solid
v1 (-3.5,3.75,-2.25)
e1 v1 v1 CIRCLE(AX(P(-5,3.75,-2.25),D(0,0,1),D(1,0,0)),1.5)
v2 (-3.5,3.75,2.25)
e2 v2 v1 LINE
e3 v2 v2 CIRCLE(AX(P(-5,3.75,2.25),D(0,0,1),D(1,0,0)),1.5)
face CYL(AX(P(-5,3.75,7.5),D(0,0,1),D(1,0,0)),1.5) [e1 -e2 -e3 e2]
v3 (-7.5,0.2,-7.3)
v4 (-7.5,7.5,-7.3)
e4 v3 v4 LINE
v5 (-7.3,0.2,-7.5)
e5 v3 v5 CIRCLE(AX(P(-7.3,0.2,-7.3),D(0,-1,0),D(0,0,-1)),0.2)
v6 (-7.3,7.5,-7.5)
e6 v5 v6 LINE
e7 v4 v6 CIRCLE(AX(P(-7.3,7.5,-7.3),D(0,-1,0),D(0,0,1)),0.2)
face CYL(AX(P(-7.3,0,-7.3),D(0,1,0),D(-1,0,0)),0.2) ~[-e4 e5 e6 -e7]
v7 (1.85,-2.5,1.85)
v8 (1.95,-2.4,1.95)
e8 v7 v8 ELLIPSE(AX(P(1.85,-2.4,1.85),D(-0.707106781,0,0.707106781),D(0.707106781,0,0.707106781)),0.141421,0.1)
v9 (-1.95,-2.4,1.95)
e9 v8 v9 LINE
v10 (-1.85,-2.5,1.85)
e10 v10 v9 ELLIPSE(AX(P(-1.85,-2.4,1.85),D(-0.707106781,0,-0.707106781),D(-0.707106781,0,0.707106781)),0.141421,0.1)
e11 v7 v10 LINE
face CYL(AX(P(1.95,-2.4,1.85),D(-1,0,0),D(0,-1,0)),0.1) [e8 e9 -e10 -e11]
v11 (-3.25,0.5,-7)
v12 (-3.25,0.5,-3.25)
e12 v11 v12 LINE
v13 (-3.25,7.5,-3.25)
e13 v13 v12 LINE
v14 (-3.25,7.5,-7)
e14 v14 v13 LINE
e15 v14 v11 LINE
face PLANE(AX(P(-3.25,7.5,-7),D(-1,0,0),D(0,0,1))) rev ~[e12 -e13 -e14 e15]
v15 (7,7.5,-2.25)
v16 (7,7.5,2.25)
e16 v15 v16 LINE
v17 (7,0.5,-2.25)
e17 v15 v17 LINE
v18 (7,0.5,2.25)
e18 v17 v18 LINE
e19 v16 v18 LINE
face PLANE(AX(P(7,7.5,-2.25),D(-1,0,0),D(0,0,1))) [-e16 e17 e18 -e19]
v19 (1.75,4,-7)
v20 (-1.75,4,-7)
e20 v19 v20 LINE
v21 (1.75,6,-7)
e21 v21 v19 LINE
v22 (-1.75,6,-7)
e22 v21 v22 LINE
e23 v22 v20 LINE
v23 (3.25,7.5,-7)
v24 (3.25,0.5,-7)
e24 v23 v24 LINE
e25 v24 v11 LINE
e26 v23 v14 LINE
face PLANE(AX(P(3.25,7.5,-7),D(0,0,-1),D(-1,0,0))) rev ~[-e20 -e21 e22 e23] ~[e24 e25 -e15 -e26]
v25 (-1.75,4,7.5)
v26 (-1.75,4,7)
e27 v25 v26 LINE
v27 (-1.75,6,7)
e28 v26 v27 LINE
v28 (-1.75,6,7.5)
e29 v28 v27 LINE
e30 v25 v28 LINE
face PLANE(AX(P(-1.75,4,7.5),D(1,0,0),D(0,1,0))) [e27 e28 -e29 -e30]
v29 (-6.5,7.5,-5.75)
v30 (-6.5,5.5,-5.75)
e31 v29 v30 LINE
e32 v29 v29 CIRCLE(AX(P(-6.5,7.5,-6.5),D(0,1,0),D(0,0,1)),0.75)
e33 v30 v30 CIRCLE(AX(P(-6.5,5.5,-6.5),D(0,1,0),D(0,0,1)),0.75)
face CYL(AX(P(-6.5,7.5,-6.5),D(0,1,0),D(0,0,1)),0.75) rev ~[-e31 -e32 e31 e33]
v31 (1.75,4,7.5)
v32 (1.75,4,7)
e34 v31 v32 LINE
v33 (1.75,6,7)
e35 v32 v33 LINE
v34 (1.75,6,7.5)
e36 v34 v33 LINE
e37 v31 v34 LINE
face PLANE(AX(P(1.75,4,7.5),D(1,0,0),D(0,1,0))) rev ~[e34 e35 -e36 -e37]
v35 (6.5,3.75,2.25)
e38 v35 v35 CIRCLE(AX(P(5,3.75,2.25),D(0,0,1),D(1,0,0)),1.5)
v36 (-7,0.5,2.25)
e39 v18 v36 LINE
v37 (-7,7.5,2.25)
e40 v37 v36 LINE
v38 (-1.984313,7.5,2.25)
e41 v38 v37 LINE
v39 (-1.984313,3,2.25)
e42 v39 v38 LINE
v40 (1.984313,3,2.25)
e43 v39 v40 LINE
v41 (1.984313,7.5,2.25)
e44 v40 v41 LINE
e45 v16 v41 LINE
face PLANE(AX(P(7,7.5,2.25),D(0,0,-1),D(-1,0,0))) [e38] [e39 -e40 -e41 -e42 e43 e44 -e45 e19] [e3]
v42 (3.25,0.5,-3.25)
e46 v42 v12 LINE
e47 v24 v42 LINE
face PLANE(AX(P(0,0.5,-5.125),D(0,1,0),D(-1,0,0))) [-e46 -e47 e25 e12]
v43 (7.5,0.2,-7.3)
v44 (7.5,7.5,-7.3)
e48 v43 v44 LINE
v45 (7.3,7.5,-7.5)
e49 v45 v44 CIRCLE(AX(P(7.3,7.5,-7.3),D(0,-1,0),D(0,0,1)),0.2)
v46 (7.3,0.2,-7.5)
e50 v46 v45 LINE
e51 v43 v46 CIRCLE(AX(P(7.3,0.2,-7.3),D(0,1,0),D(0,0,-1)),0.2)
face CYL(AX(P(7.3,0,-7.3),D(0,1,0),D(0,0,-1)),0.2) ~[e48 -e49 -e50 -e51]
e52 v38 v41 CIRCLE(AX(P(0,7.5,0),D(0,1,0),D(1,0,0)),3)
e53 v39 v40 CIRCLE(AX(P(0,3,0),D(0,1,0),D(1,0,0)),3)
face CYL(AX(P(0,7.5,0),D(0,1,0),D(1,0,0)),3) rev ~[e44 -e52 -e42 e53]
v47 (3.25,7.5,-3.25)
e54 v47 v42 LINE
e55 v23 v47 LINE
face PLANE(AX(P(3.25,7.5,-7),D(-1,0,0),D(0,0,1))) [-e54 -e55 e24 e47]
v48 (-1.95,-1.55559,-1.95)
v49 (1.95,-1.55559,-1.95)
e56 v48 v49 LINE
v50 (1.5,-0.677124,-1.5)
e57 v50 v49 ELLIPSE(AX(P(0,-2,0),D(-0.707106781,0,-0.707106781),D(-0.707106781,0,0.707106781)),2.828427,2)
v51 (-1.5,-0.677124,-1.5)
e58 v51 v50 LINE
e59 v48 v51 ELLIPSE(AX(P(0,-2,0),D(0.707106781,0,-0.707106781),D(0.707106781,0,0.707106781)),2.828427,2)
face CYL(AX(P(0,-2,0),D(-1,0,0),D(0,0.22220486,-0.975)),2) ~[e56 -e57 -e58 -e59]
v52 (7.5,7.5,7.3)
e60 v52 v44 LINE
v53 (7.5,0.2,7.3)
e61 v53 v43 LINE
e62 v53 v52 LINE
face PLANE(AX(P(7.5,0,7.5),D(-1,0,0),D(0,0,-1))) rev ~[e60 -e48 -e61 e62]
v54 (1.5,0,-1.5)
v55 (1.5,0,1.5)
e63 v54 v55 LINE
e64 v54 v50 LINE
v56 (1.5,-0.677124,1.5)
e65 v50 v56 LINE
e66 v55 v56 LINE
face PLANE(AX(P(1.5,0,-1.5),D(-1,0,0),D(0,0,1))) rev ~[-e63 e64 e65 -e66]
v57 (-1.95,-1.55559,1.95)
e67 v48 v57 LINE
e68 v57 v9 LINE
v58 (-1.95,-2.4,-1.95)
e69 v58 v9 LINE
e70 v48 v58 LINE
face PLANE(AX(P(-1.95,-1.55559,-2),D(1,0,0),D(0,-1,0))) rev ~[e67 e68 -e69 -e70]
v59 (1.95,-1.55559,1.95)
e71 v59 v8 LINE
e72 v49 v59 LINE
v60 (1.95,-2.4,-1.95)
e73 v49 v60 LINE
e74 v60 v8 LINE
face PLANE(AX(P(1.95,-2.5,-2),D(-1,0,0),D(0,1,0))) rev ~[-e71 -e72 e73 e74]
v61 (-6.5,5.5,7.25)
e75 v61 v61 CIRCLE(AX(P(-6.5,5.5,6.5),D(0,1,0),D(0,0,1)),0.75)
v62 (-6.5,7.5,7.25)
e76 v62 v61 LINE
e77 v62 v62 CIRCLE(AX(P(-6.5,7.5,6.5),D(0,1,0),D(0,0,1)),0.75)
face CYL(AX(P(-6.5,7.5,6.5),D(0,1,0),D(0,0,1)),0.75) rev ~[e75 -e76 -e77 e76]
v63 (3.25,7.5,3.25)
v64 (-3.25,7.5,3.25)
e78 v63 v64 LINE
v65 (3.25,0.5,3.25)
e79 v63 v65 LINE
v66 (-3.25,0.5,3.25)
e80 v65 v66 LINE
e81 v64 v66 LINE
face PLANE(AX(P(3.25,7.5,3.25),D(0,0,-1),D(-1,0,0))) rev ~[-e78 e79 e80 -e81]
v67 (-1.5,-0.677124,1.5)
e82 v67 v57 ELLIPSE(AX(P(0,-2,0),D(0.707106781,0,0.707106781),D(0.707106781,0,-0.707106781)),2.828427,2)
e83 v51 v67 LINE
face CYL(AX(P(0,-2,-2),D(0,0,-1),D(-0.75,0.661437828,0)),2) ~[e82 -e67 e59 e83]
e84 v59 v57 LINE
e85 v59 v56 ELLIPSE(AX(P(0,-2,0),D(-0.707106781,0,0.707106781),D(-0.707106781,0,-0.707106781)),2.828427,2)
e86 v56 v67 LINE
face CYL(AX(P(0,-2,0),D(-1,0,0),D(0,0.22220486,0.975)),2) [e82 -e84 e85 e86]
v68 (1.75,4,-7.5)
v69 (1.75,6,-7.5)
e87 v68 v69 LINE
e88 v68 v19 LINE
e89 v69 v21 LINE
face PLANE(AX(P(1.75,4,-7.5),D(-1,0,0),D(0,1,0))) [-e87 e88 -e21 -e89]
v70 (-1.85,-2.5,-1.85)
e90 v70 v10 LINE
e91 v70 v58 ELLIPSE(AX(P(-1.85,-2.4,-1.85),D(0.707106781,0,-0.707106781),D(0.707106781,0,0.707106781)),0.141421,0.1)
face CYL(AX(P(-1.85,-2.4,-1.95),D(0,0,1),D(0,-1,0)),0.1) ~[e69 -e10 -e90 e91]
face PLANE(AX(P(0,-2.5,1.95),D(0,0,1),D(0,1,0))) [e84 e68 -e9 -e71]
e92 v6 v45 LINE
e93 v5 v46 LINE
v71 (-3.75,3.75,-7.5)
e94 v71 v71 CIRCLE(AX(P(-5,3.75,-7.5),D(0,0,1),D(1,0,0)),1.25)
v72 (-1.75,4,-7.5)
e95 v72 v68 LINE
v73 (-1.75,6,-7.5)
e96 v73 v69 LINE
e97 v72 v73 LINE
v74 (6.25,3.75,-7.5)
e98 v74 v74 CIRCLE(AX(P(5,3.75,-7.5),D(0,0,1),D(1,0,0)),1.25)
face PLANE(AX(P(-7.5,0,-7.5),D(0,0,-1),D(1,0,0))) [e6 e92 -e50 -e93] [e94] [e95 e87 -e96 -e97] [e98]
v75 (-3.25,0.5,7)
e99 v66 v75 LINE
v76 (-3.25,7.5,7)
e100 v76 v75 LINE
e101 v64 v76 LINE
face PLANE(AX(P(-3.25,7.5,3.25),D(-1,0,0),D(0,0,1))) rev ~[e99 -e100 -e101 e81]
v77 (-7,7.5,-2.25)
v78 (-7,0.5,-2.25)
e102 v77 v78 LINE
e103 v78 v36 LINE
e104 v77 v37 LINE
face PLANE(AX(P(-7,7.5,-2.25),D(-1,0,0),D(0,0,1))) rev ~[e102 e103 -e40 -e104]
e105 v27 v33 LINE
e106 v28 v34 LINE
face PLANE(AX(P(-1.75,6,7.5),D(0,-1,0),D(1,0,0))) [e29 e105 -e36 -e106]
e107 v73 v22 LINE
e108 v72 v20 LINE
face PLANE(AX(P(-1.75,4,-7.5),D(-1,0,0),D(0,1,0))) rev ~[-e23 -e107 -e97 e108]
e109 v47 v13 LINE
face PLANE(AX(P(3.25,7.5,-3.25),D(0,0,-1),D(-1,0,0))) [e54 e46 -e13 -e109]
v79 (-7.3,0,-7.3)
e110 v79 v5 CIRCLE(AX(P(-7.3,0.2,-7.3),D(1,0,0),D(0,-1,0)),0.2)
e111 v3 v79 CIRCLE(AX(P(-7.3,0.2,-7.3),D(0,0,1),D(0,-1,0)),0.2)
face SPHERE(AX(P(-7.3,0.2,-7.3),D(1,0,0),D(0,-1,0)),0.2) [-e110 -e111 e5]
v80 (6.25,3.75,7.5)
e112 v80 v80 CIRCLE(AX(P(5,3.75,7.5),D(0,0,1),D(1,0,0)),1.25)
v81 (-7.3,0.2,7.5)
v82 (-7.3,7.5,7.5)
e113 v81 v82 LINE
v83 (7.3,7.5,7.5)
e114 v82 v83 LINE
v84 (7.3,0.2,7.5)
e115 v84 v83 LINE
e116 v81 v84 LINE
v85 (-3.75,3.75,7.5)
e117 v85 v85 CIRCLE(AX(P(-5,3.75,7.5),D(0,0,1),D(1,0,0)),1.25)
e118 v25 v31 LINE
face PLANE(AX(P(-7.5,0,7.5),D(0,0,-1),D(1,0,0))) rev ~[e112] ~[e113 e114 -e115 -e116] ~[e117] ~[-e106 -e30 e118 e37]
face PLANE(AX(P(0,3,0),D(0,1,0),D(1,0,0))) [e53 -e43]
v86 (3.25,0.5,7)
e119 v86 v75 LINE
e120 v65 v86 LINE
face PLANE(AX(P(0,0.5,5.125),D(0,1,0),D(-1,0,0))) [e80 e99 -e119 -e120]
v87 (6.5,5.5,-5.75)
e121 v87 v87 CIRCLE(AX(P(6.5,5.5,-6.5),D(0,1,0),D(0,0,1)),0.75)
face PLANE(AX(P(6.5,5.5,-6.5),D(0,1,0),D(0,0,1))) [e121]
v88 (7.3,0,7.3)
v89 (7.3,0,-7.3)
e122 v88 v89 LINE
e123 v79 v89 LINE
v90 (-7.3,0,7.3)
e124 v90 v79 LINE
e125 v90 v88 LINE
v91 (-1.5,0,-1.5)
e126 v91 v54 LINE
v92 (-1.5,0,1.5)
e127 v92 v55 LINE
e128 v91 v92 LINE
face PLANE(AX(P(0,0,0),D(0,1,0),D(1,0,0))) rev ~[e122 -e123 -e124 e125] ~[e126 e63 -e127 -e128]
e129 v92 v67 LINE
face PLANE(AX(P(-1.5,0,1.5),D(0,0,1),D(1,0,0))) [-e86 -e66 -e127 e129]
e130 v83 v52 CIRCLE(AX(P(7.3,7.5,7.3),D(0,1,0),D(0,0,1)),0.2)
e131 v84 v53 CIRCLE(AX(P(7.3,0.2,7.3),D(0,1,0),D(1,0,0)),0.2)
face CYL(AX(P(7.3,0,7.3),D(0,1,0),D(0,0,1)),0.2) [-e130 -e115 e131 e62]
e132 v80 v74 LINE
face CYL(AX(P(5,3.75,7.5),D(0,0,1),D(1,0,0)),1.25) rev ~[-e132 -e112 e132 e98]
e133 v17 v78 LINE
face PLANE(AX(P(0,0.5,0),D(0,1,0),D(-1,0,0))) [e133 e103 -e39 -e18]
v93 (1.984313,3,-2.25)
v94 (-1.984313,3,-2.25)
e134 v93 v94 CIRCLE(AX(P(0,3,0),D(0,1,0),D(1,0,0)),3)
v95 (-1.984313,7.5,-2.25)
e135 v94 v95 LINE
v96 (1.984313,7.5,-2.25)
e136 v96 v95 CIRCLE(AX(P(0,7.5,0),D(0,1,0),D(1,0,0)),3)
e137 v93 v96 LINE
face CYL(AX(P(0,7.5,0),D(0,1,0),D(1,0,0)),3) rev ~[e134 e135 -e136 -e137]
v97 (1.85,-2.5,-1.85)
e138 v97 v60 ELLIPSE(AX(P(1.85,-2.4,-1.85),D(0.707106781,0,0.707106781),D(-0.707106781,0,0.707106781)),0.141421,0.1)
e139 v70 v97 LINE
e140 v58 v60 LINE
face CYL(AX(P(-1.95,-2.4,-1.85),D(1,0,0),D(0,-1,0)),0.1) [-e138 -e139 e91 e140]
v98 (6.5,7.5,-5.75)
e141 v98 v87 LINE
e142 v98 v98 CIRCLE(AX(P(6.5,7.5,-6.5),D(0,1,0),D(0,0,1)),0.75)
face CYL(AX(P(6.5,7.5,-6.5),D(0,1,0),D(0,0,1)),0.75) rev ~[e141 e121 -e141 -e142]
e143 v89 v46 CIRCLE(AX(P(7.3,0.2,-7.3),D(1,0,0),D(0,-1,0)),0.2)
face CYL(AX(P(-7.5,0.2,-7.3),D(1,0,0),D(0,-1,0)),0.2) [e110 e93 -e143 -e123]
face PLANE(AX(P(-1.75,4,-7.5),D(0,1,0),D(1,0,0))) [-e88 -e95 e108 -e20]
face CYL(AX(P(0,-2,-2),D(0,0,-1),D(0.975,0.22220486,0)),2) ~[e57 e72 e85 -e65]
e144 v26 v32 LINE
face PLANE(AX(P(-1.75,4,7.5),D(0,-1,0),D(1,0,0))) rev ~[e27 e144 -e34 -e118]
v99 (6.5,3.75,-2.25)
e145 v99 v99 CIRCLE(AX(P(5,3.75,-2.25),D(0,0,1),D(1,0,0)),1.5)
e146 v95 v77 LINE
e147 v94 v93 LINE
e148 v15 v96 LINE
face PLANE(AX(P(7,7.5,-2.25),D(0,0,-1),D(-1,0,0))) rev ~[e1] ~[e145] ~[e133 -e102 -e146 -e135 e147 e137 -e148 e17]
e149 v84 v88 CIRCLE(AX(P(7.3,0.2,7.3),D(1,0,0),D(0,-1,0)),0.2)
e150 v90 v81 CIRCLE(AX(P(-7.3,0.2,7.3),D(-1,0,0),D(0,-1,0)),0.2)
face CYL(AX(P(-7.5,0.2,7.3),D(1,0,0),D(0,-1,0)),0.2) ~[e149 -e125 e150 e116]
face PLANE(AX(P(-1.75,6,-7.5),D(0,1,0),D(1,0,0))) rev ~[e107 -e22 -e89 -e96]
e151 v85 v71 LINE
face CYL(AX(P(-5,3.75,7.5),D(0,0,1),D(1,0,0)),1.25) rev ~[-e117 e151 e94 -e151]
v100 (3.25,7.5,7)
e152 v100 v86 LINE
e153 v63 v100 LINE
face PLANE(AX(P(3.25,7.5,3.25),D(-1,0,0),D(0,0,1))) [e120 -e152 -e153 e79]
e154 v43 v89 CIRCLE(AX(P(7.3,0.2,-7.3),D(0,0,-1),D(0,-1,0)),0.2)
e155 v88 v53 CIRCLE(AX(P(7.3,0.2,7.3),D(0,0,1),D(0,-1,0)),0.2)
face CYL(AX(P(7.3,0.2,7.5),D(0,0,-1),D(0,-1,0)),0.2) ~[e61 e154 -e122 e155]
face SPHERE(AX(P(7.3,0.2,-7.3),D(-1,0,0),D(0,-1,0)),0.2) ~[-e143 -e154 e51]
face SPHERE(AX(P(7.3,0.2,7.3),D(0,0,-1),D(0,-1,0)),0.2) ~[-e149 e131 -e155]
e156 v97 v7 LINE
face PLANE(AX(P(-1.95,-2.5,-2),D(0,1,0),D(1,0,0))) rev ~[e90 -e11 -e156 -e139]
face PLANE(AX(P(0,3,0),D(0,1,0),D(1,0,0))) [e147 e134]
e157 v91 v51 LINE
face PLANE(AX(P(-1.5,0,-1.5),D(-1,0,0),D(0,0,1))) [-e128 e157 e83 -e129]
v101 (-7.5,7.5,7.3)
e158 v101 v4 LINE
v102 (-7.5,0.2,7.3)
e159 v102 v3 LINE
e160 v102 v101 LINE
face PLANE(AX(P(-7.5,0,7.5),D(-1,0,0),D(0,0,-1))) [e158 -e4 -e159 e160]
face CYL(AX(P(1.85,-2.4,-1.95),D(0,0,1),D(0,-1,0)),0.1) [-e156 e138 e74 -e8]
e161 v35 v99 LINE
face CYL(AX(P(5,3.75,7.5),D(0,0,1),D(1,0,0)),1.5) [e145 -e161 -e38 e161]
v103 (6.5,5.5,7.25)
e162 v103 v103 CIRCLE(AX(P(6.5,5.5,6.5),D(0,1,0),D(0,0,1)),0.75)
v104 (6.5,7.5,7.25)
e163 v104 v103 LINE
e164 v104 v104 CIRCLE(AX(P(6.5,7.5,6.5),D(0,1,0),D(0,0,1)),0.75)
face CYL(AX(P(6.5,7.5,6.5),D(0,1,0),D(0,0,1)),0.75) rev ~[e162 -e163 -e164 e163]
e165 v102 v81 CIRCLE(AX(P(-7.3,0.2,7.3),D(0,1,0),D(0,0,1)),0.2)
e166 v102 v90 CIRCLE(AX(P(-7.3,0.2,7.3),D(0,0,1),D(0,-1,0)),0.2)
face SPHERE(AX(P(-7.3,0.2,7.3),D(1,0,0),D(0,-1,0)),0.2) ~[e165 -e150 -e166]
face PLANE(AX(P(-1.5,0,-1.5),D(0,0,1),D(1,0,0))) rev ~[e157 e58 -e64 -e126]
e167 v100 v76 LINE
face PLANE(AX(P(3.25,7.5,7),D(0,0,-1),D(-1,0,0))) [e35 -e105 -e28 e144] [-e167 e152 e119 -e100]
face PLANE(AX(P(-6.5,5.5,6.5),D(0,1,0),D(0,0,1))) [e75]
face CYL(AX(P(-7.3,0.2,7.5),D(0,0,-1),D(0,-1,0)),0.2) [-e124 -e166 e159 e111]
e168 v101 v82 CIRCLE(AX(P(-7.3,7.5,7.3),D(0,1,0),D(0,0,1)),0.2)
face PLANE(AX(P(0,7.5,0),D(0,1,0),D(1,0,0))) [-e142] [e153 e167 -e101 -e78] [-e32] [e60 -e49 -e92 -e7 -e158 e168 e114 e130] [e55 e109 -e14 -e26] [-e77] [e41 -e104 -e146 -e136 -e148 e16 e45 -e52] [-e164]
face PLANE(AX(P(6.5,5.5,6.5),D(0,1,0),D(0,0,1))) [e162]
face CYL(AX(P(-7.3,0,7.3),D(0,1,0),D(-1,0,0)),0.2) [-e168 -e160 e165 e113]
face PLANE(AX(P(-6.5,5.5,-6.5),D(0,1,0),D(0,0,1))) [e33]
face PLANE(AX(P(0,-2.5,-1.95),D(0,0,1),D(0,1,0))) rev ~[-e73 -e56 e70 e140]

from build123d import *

# Parameters (mm, degrees)
SKETCH_2_W                      = 15
SKETCH_2_H                      = 15
EXTRUDE_1_DEPTH                 = 7.5
SKETCH_3_W                      = 14
SKETCH_3_H                      = 4.5
CUT_EXTRUDE_1_DEPTH             = 7
SKETCH_4_R                      = 3
CUT_EXTRUDE_2_DEPTH             = 4.5
SKETCH_5_W                      = 6.5
SKETCH_5_H                      = 3.75
CUT_EXTRUDE_3_DEPTH             = 7
EXTRUDE_2_REACH                 = 20.371
SKETCH_6_R                      = 1.5
SKETCH_7_R                      = 1.25
CUT_EXTRUDE_4_DEPTH             = 19.371173071
SKETCH_8_W                      = 3
SKETCH_8_H                      = 3
EXTRUDE_3_DEPTH                 = 1
CUT_EXTRUDE_5_REACH             = 20.371
SKETCH_9_W                      = 3.5
SKETCH_9_H                      = 2
CUT_EXTRUDE_6_REACH             = 35.371
CUT_EXTRUDE_START               = -15
SKETCH_9_2_W                    = 3.5
SKETCH_9_2_H                    = 2
EXTRUDE_4_DEPTH                 = 2
EXTRUDE_4_DEPTH_BACK            = 2
CUT_EXTRUDE_7_REACH             = 14.99
CUT_EXTRUDE_7_DIRECTION_2_REACH = 14.99
FILLET_1_R                      = 0.1
FILLET_2_R                      = 0.2
SKETCH_12_R                     = 0.75
CUT_EXTRUDE_8_DEPTH             = 2


with BuildPart() as part:
    # 草图2 → 凸台-拉伸1 (new body)
    with BuildSketch(Plane(origin=(0, 0, 0), x_dir=(1, 0, 0), z_dir=(0, 1, 0))):
        Rectangle(SKETCH_2_W, SKETCH_2_H)
    extrude(amount=EXTRUDE_1_DEPTH)

    # 草图3 → 切除-拉伸1 (cut)
    with BuildSketch(Plane(origin=(0, 7.5, 0), x_dir=(-1, 0, 0), z_dir=(0, 1, 0))):
        Rectangle(SKETCH_3_W, SKETCH_3_H)
    extrude(amount=-CUT_EXTRUDE_1_DEPTH, mode=Mode.SUBTRACT)

    # 草图4 → 切除-拉伸2 (cut)
    with BuildSketch(Plane(origin=(0, 7.5, 0), x_dir=(1, 0, 0), z_dir=(0, 1, 0))):
        Circle(SKETCH_4_R)
    extrude(amount=-CUT_EXTRUDE_2_DEPTH, mode=Mode.SUBTRACT)

    # 草图5 → 切除-拉伸3 (cut)
    with BuildSketch(Plane(origin=(0, 7.5, 0), x_dir=(-1, 0, 0), z_dir=(0, 1, 0))):
        with Locations((0, -5.125)):
            Rectangle(SKETCH_5_W, SKETCH_5_H)
        with Locations((0, 5.125)):
            Rectangle(SKETCH_5_W, SKETCH_5_H)
    extrude(amount=-CUT_EXTRUDE_3_DEPTH, mode=Mode.SUBTRACT)

    # 草图6 → 凸台-拉伸2 (add, up to next)
    with BuildSketch(Plane.XY.offset(7.5), mode=Mode.PRIVATE) as extrude_2_sk1:
        with Locations((-5, 3.75)):
            Circle(SKETCH_6_R)
    extrude_2_tool1 = extrude(extrude_2_sk1.sketch, amount=-EXTRUDE_2_REACH, mode=Mode.PRIVATE) - part.part
    # 草图6 → 凸台-拉伸2 (add, up to next)
    with BuildSketch(Plane.XY.offset(7.5), mode=Mode.PRIVATE) as extrude_2_sk2:
        with Locations((5, 3.75)):
            Circle(SKETCH_6_R)
    extrude_2_tool2 = extrude(extrude_2_sk2.sketch, amount=-EXTRUDE_2_REACH, mode=Mode.PRIVATE) - part.part
    add(extrude_2_tool1.solids().sort_by_distance((-5, 3.75, 7.5))[0])
    add(extrude_2_tool2.solids().sort_by_distance((5, 3.75, 7.5))[0])

    # 草图7 → 切除-拉伸4 (cut, through all)
    with BuildSketch(Plane.XY.offset(7.5)):
        with Locations((-5, 3.75)):
            Circle(SKETCH_7_R)
        with Locations((5, 3.75)):
            Circle(SKETCH_7_R)
    extrude(amount=-CUT_EXTRUDE_4_DEPTH, mode=Mode.SUBTRACT)

    # 草图8 → 凸台-拉伸3 (add)
    with BuildSketch(Plane.XZ):
        Rectangle(SKETCH_8_W, SKETCH_8_H)
    extrude(amount=EXTRUDE_3_DEPTH)

    # 草图9 → 切除-拉伸5 (cut, up to next)
    with BuildSketch(Plane.XY.offset(7.5), mode=Mode.PRIVATE) as cut_extrude_5_sk1:
        with Locations((0, 5)):
            Rectangle(SKETCH_9_W, SKETCH_9_H)
    cut_extrude_5_tool1 = extrude(cut_extrude_5_sk1.sketch, amount=-CUT_EXTRUDE_5_REACH, mode=Mode.PRIVATE) & part.part
    add(cut_extrude_5_tool1.solids().sort_by_distance((0, 5, 7.5))[0], mode=Mode.SUBTRACT)

    # 草图9<2> → 切除-拉伸6 (cut, up to next)
    with BuildSketch(Plane.XY.offset(7.5).offset(CUT_EXTRUDE_START), mode=Mode.PRIVATE) as cut_extrude_6_sk1:
        with Locations((0, 5)):
            Rectangle(SKETCH_9_2_W, SKETCH_9_2_H)
    cut_extrude_6_tool1 = extrude(cut_extrude_6_sk1.sketch, amount=CUT_EXTRUDE_6_REACH, mode=Mode.PRIVATE) & part.part
    add(cut_extrude_6_tool1.solids().sort_by_distance((0, 5, -7.5))[0], mode=Mode.SUBTRACT)

    # 草图10 → 凸台-拉伸4 (add, two sides: drawn at the far end of the back side and taken through both)
    with BuildSketch(Plane.XY.offset(-EXTRUDE_4_DEPTH_BACK)):
        with BuildLine():
            Line((-1.95, -2.5), (1.95, -2.5))
            Line((1.95, -2.5), (1.95, -1.555590279))
            ThreePointArc((1.95, -1.555590279), (1.780042303, -1.088161527), (1.5, -0.677124344))
            Line((1.5, -0.677124344), (-1.5, -0.677124344))
            ThreePointArc((-1.5, -0.677124344), (-1.780042303, -1.088161527), (-1.95, -1.555590279))
            Line((-1.95, -1.555590279), (-1.95, -2.5))
        make_face()
    extrude(amount=EXTRUDE_4_DEPTH + EXTRUDE_4_DEPTH_BACK)

    # 草图11 → 切除-拉伸7 (cut, up to next)
    with BuildSketch(Plane(origin=(0, 0, 0), x_dir=(0, 0, -1), z_dir=(1, 0, 0)), mode=Mode.PRIVATE) as cut_extrude_7_sk1:
        with BuildLine():
            Line((1.95, -2.5), (1.95, -1.555590279))
            ThreePointArc((1.95, -1.555590279), (1.780042303, -1.088161527), (1.5, -0.677124344))
            Line((1.5, -0.677124344), (2, -0.677124344))
            Line((2, -0.677124344), (2, -2.5))
            Line((2, -2.5), (1.95, -2.5))
        make_face()
    cut_extrude_7_tool1 = extrude(cut_extrude_7_sk1.sketch, amount=-CUT_EXTRUDE_7_REACH, mode=Mode.PRIVATE) & part.part
    # 草图11 → 切除-拉伸7 (cut, up to next)
    with BuildSketch(Plane(origin=(0, 0, 0), x_dir=(0, 0, -1), z_dir=(1, 0, 0)), mode=Mode.PRIVATE) as cut_extrude_7_sk2:
        with BuildLine():
            Line((-1.95, -2.5), (-1.95, -1.555590279))
            ThreePointArc((-1.95, -1.555590279), (-1.780042303, -1.088161527), (-1.5, -0.677124344))
            Line((-1.5, -0.677124344), (-2, -0.677124344))
            Line((-2, -0.677124344), (-2, -2.5))
            Line((-2, -2.5), (-1.95, -2.5))
        make_face()
    cut_extrude_7_tool2 = extrude(cut_extrude_7_sk2.sketch, amount=-CUT_EXTRUDE_7_REACH, mode=Mode.PRIVATE) & part.part
    add(cut_extrude_7_tool1.solids().sort_by_distance((0, -1.175075, -1.873038))[0], mode=Mode.SUBTRACT)
    add(cut_extrude_7_tool2.solids().sort_by_distance((0, -1.175075, 1.873038))[0], mode=Mode.SUBTRACT)

    # 草图11 → 切除-拉伸7 direction 2 (cut, up to next)
    with BuildSketch(Plane(origin=(0, 0, 0), x_dir=(0, 0, -1), z_dir=(1, 0, 0)), mode=Mode.PRIVATE) as cut_extrude_7_direction_2_sk1:
        with BuildLine():
            Line((1.95, -2.5), (1.95, -1.555590279))
            ThreePointArc((1.95, -1.555590279), (1.780042303, -1.088161527), (1.5, -0.677124344))
            Line((1.5, -0.677124344), (2, -0.677124344))
            Line((2, -0.677124344), (2, -2.5))
            Line((2, -2.5), (1.95, -2.5))
        make_face()
    cut_extrude_7_direction_2_tool1 = extrude(cut_extrude_7_direction_2_sk1.sketch, amount=CUT_EXTRUDE_7_DIRECTION_2_REACH, mode=Mode.PRIVATE) & part.part
    # 草图11 → 切除-拉伸7 direction 2 (cut, up to next)
    with BuildSketch(Plane(origin=(0, 0, 0), x_dir=(0, 0, -1), z_dir=(1, 0, 0)), mode=Mode.PRIVATE) as cut_extrude_7_direction_2_sk2:
        with BuildLine():
            Line((-1.95, -2.5), (-1.95, -1.555590279))
            ThreePointArc((-1.95, -1.555590279), (-1.780042303, -1.088161527), (-1.5, -0.677124344))
            Line((-1.5, -0.677124344), (-2, -0.677124344))
            Line((-2, -0.677124344), (-2, -2.5))
            Line((-2, -2.5), (-1.95, -2.5))
        make_face()
    cut_extrude_7_direction_2_tool2 = extrude(cut_extrude_7_direction_2_sk2.sketch, amount=CUT_EXTRUDE_7_DIRECTION_2_REACH, mode=Mode.PRIVATE) & part.part
    add(cut_extrude_7_direction_2_tool1.solids().sort_by_distance((0, -1.175075, -1.873038))[0], mode=Mode.SUBTRACT)
    add(cut_extrude_7_direction_2_tool2.solids().sort_by_distance((0, -1.175075, 1.873038))[0], mode=Mode.SUBTRACT)

    # 圆角1
    fillet_1_edges = [part.edges().sort_by_distance(p)[0] for p in [
        (0, -2.5, -1.95),
        (-1.95, -2.5, 0),
        (0, -2.5, 1.95),
        (1.95, -2.5, 0),
    ]]
    fillet(fillet_1_edges, radius=FILLET_1_R)

    # 圆角2
    fillet_2_edges = [part.edges().sort_by_distance(p)[0] for p in [
        (-7.5, 3.75, -7.5),
        (7.5, 3.75, -7.5),
        (-7.5, 3.75, 7.5),
        (-7.5, 0, 0),
        (0, 0, -7.5),
        (7.5, 0, 0),
        (0, 0, 7.5),
        (7.5, 3.75, 7.5),
    ]]
    fillet(fillet_2_edges, radius=FILLET_2_R)

    # 草图12 → 切除-拉伸8 (cut)
    with BuildSketch(Plane(origin=(0, 7.5, 0), x_dir=(-1, 0, 0), z_dir=(0, 1, 0))):
        with Locations((6.5, -6.5)):
            Circle(SKETCH_12_R)
        with Locations((-6.5, 6.5)):
            Circle(SKETCH_12_R)
        with Locations((6.5, 6.5)):
            Circle(SKETCH_12_R)
        with Locations((-6.5, -6.5)):
            Circle(SKETCH_12_R)
    extrude(amount=-CUT_EXTRUDE_8_DEPTH, mode=Mode.SUBTRACT)


solid = part.part
